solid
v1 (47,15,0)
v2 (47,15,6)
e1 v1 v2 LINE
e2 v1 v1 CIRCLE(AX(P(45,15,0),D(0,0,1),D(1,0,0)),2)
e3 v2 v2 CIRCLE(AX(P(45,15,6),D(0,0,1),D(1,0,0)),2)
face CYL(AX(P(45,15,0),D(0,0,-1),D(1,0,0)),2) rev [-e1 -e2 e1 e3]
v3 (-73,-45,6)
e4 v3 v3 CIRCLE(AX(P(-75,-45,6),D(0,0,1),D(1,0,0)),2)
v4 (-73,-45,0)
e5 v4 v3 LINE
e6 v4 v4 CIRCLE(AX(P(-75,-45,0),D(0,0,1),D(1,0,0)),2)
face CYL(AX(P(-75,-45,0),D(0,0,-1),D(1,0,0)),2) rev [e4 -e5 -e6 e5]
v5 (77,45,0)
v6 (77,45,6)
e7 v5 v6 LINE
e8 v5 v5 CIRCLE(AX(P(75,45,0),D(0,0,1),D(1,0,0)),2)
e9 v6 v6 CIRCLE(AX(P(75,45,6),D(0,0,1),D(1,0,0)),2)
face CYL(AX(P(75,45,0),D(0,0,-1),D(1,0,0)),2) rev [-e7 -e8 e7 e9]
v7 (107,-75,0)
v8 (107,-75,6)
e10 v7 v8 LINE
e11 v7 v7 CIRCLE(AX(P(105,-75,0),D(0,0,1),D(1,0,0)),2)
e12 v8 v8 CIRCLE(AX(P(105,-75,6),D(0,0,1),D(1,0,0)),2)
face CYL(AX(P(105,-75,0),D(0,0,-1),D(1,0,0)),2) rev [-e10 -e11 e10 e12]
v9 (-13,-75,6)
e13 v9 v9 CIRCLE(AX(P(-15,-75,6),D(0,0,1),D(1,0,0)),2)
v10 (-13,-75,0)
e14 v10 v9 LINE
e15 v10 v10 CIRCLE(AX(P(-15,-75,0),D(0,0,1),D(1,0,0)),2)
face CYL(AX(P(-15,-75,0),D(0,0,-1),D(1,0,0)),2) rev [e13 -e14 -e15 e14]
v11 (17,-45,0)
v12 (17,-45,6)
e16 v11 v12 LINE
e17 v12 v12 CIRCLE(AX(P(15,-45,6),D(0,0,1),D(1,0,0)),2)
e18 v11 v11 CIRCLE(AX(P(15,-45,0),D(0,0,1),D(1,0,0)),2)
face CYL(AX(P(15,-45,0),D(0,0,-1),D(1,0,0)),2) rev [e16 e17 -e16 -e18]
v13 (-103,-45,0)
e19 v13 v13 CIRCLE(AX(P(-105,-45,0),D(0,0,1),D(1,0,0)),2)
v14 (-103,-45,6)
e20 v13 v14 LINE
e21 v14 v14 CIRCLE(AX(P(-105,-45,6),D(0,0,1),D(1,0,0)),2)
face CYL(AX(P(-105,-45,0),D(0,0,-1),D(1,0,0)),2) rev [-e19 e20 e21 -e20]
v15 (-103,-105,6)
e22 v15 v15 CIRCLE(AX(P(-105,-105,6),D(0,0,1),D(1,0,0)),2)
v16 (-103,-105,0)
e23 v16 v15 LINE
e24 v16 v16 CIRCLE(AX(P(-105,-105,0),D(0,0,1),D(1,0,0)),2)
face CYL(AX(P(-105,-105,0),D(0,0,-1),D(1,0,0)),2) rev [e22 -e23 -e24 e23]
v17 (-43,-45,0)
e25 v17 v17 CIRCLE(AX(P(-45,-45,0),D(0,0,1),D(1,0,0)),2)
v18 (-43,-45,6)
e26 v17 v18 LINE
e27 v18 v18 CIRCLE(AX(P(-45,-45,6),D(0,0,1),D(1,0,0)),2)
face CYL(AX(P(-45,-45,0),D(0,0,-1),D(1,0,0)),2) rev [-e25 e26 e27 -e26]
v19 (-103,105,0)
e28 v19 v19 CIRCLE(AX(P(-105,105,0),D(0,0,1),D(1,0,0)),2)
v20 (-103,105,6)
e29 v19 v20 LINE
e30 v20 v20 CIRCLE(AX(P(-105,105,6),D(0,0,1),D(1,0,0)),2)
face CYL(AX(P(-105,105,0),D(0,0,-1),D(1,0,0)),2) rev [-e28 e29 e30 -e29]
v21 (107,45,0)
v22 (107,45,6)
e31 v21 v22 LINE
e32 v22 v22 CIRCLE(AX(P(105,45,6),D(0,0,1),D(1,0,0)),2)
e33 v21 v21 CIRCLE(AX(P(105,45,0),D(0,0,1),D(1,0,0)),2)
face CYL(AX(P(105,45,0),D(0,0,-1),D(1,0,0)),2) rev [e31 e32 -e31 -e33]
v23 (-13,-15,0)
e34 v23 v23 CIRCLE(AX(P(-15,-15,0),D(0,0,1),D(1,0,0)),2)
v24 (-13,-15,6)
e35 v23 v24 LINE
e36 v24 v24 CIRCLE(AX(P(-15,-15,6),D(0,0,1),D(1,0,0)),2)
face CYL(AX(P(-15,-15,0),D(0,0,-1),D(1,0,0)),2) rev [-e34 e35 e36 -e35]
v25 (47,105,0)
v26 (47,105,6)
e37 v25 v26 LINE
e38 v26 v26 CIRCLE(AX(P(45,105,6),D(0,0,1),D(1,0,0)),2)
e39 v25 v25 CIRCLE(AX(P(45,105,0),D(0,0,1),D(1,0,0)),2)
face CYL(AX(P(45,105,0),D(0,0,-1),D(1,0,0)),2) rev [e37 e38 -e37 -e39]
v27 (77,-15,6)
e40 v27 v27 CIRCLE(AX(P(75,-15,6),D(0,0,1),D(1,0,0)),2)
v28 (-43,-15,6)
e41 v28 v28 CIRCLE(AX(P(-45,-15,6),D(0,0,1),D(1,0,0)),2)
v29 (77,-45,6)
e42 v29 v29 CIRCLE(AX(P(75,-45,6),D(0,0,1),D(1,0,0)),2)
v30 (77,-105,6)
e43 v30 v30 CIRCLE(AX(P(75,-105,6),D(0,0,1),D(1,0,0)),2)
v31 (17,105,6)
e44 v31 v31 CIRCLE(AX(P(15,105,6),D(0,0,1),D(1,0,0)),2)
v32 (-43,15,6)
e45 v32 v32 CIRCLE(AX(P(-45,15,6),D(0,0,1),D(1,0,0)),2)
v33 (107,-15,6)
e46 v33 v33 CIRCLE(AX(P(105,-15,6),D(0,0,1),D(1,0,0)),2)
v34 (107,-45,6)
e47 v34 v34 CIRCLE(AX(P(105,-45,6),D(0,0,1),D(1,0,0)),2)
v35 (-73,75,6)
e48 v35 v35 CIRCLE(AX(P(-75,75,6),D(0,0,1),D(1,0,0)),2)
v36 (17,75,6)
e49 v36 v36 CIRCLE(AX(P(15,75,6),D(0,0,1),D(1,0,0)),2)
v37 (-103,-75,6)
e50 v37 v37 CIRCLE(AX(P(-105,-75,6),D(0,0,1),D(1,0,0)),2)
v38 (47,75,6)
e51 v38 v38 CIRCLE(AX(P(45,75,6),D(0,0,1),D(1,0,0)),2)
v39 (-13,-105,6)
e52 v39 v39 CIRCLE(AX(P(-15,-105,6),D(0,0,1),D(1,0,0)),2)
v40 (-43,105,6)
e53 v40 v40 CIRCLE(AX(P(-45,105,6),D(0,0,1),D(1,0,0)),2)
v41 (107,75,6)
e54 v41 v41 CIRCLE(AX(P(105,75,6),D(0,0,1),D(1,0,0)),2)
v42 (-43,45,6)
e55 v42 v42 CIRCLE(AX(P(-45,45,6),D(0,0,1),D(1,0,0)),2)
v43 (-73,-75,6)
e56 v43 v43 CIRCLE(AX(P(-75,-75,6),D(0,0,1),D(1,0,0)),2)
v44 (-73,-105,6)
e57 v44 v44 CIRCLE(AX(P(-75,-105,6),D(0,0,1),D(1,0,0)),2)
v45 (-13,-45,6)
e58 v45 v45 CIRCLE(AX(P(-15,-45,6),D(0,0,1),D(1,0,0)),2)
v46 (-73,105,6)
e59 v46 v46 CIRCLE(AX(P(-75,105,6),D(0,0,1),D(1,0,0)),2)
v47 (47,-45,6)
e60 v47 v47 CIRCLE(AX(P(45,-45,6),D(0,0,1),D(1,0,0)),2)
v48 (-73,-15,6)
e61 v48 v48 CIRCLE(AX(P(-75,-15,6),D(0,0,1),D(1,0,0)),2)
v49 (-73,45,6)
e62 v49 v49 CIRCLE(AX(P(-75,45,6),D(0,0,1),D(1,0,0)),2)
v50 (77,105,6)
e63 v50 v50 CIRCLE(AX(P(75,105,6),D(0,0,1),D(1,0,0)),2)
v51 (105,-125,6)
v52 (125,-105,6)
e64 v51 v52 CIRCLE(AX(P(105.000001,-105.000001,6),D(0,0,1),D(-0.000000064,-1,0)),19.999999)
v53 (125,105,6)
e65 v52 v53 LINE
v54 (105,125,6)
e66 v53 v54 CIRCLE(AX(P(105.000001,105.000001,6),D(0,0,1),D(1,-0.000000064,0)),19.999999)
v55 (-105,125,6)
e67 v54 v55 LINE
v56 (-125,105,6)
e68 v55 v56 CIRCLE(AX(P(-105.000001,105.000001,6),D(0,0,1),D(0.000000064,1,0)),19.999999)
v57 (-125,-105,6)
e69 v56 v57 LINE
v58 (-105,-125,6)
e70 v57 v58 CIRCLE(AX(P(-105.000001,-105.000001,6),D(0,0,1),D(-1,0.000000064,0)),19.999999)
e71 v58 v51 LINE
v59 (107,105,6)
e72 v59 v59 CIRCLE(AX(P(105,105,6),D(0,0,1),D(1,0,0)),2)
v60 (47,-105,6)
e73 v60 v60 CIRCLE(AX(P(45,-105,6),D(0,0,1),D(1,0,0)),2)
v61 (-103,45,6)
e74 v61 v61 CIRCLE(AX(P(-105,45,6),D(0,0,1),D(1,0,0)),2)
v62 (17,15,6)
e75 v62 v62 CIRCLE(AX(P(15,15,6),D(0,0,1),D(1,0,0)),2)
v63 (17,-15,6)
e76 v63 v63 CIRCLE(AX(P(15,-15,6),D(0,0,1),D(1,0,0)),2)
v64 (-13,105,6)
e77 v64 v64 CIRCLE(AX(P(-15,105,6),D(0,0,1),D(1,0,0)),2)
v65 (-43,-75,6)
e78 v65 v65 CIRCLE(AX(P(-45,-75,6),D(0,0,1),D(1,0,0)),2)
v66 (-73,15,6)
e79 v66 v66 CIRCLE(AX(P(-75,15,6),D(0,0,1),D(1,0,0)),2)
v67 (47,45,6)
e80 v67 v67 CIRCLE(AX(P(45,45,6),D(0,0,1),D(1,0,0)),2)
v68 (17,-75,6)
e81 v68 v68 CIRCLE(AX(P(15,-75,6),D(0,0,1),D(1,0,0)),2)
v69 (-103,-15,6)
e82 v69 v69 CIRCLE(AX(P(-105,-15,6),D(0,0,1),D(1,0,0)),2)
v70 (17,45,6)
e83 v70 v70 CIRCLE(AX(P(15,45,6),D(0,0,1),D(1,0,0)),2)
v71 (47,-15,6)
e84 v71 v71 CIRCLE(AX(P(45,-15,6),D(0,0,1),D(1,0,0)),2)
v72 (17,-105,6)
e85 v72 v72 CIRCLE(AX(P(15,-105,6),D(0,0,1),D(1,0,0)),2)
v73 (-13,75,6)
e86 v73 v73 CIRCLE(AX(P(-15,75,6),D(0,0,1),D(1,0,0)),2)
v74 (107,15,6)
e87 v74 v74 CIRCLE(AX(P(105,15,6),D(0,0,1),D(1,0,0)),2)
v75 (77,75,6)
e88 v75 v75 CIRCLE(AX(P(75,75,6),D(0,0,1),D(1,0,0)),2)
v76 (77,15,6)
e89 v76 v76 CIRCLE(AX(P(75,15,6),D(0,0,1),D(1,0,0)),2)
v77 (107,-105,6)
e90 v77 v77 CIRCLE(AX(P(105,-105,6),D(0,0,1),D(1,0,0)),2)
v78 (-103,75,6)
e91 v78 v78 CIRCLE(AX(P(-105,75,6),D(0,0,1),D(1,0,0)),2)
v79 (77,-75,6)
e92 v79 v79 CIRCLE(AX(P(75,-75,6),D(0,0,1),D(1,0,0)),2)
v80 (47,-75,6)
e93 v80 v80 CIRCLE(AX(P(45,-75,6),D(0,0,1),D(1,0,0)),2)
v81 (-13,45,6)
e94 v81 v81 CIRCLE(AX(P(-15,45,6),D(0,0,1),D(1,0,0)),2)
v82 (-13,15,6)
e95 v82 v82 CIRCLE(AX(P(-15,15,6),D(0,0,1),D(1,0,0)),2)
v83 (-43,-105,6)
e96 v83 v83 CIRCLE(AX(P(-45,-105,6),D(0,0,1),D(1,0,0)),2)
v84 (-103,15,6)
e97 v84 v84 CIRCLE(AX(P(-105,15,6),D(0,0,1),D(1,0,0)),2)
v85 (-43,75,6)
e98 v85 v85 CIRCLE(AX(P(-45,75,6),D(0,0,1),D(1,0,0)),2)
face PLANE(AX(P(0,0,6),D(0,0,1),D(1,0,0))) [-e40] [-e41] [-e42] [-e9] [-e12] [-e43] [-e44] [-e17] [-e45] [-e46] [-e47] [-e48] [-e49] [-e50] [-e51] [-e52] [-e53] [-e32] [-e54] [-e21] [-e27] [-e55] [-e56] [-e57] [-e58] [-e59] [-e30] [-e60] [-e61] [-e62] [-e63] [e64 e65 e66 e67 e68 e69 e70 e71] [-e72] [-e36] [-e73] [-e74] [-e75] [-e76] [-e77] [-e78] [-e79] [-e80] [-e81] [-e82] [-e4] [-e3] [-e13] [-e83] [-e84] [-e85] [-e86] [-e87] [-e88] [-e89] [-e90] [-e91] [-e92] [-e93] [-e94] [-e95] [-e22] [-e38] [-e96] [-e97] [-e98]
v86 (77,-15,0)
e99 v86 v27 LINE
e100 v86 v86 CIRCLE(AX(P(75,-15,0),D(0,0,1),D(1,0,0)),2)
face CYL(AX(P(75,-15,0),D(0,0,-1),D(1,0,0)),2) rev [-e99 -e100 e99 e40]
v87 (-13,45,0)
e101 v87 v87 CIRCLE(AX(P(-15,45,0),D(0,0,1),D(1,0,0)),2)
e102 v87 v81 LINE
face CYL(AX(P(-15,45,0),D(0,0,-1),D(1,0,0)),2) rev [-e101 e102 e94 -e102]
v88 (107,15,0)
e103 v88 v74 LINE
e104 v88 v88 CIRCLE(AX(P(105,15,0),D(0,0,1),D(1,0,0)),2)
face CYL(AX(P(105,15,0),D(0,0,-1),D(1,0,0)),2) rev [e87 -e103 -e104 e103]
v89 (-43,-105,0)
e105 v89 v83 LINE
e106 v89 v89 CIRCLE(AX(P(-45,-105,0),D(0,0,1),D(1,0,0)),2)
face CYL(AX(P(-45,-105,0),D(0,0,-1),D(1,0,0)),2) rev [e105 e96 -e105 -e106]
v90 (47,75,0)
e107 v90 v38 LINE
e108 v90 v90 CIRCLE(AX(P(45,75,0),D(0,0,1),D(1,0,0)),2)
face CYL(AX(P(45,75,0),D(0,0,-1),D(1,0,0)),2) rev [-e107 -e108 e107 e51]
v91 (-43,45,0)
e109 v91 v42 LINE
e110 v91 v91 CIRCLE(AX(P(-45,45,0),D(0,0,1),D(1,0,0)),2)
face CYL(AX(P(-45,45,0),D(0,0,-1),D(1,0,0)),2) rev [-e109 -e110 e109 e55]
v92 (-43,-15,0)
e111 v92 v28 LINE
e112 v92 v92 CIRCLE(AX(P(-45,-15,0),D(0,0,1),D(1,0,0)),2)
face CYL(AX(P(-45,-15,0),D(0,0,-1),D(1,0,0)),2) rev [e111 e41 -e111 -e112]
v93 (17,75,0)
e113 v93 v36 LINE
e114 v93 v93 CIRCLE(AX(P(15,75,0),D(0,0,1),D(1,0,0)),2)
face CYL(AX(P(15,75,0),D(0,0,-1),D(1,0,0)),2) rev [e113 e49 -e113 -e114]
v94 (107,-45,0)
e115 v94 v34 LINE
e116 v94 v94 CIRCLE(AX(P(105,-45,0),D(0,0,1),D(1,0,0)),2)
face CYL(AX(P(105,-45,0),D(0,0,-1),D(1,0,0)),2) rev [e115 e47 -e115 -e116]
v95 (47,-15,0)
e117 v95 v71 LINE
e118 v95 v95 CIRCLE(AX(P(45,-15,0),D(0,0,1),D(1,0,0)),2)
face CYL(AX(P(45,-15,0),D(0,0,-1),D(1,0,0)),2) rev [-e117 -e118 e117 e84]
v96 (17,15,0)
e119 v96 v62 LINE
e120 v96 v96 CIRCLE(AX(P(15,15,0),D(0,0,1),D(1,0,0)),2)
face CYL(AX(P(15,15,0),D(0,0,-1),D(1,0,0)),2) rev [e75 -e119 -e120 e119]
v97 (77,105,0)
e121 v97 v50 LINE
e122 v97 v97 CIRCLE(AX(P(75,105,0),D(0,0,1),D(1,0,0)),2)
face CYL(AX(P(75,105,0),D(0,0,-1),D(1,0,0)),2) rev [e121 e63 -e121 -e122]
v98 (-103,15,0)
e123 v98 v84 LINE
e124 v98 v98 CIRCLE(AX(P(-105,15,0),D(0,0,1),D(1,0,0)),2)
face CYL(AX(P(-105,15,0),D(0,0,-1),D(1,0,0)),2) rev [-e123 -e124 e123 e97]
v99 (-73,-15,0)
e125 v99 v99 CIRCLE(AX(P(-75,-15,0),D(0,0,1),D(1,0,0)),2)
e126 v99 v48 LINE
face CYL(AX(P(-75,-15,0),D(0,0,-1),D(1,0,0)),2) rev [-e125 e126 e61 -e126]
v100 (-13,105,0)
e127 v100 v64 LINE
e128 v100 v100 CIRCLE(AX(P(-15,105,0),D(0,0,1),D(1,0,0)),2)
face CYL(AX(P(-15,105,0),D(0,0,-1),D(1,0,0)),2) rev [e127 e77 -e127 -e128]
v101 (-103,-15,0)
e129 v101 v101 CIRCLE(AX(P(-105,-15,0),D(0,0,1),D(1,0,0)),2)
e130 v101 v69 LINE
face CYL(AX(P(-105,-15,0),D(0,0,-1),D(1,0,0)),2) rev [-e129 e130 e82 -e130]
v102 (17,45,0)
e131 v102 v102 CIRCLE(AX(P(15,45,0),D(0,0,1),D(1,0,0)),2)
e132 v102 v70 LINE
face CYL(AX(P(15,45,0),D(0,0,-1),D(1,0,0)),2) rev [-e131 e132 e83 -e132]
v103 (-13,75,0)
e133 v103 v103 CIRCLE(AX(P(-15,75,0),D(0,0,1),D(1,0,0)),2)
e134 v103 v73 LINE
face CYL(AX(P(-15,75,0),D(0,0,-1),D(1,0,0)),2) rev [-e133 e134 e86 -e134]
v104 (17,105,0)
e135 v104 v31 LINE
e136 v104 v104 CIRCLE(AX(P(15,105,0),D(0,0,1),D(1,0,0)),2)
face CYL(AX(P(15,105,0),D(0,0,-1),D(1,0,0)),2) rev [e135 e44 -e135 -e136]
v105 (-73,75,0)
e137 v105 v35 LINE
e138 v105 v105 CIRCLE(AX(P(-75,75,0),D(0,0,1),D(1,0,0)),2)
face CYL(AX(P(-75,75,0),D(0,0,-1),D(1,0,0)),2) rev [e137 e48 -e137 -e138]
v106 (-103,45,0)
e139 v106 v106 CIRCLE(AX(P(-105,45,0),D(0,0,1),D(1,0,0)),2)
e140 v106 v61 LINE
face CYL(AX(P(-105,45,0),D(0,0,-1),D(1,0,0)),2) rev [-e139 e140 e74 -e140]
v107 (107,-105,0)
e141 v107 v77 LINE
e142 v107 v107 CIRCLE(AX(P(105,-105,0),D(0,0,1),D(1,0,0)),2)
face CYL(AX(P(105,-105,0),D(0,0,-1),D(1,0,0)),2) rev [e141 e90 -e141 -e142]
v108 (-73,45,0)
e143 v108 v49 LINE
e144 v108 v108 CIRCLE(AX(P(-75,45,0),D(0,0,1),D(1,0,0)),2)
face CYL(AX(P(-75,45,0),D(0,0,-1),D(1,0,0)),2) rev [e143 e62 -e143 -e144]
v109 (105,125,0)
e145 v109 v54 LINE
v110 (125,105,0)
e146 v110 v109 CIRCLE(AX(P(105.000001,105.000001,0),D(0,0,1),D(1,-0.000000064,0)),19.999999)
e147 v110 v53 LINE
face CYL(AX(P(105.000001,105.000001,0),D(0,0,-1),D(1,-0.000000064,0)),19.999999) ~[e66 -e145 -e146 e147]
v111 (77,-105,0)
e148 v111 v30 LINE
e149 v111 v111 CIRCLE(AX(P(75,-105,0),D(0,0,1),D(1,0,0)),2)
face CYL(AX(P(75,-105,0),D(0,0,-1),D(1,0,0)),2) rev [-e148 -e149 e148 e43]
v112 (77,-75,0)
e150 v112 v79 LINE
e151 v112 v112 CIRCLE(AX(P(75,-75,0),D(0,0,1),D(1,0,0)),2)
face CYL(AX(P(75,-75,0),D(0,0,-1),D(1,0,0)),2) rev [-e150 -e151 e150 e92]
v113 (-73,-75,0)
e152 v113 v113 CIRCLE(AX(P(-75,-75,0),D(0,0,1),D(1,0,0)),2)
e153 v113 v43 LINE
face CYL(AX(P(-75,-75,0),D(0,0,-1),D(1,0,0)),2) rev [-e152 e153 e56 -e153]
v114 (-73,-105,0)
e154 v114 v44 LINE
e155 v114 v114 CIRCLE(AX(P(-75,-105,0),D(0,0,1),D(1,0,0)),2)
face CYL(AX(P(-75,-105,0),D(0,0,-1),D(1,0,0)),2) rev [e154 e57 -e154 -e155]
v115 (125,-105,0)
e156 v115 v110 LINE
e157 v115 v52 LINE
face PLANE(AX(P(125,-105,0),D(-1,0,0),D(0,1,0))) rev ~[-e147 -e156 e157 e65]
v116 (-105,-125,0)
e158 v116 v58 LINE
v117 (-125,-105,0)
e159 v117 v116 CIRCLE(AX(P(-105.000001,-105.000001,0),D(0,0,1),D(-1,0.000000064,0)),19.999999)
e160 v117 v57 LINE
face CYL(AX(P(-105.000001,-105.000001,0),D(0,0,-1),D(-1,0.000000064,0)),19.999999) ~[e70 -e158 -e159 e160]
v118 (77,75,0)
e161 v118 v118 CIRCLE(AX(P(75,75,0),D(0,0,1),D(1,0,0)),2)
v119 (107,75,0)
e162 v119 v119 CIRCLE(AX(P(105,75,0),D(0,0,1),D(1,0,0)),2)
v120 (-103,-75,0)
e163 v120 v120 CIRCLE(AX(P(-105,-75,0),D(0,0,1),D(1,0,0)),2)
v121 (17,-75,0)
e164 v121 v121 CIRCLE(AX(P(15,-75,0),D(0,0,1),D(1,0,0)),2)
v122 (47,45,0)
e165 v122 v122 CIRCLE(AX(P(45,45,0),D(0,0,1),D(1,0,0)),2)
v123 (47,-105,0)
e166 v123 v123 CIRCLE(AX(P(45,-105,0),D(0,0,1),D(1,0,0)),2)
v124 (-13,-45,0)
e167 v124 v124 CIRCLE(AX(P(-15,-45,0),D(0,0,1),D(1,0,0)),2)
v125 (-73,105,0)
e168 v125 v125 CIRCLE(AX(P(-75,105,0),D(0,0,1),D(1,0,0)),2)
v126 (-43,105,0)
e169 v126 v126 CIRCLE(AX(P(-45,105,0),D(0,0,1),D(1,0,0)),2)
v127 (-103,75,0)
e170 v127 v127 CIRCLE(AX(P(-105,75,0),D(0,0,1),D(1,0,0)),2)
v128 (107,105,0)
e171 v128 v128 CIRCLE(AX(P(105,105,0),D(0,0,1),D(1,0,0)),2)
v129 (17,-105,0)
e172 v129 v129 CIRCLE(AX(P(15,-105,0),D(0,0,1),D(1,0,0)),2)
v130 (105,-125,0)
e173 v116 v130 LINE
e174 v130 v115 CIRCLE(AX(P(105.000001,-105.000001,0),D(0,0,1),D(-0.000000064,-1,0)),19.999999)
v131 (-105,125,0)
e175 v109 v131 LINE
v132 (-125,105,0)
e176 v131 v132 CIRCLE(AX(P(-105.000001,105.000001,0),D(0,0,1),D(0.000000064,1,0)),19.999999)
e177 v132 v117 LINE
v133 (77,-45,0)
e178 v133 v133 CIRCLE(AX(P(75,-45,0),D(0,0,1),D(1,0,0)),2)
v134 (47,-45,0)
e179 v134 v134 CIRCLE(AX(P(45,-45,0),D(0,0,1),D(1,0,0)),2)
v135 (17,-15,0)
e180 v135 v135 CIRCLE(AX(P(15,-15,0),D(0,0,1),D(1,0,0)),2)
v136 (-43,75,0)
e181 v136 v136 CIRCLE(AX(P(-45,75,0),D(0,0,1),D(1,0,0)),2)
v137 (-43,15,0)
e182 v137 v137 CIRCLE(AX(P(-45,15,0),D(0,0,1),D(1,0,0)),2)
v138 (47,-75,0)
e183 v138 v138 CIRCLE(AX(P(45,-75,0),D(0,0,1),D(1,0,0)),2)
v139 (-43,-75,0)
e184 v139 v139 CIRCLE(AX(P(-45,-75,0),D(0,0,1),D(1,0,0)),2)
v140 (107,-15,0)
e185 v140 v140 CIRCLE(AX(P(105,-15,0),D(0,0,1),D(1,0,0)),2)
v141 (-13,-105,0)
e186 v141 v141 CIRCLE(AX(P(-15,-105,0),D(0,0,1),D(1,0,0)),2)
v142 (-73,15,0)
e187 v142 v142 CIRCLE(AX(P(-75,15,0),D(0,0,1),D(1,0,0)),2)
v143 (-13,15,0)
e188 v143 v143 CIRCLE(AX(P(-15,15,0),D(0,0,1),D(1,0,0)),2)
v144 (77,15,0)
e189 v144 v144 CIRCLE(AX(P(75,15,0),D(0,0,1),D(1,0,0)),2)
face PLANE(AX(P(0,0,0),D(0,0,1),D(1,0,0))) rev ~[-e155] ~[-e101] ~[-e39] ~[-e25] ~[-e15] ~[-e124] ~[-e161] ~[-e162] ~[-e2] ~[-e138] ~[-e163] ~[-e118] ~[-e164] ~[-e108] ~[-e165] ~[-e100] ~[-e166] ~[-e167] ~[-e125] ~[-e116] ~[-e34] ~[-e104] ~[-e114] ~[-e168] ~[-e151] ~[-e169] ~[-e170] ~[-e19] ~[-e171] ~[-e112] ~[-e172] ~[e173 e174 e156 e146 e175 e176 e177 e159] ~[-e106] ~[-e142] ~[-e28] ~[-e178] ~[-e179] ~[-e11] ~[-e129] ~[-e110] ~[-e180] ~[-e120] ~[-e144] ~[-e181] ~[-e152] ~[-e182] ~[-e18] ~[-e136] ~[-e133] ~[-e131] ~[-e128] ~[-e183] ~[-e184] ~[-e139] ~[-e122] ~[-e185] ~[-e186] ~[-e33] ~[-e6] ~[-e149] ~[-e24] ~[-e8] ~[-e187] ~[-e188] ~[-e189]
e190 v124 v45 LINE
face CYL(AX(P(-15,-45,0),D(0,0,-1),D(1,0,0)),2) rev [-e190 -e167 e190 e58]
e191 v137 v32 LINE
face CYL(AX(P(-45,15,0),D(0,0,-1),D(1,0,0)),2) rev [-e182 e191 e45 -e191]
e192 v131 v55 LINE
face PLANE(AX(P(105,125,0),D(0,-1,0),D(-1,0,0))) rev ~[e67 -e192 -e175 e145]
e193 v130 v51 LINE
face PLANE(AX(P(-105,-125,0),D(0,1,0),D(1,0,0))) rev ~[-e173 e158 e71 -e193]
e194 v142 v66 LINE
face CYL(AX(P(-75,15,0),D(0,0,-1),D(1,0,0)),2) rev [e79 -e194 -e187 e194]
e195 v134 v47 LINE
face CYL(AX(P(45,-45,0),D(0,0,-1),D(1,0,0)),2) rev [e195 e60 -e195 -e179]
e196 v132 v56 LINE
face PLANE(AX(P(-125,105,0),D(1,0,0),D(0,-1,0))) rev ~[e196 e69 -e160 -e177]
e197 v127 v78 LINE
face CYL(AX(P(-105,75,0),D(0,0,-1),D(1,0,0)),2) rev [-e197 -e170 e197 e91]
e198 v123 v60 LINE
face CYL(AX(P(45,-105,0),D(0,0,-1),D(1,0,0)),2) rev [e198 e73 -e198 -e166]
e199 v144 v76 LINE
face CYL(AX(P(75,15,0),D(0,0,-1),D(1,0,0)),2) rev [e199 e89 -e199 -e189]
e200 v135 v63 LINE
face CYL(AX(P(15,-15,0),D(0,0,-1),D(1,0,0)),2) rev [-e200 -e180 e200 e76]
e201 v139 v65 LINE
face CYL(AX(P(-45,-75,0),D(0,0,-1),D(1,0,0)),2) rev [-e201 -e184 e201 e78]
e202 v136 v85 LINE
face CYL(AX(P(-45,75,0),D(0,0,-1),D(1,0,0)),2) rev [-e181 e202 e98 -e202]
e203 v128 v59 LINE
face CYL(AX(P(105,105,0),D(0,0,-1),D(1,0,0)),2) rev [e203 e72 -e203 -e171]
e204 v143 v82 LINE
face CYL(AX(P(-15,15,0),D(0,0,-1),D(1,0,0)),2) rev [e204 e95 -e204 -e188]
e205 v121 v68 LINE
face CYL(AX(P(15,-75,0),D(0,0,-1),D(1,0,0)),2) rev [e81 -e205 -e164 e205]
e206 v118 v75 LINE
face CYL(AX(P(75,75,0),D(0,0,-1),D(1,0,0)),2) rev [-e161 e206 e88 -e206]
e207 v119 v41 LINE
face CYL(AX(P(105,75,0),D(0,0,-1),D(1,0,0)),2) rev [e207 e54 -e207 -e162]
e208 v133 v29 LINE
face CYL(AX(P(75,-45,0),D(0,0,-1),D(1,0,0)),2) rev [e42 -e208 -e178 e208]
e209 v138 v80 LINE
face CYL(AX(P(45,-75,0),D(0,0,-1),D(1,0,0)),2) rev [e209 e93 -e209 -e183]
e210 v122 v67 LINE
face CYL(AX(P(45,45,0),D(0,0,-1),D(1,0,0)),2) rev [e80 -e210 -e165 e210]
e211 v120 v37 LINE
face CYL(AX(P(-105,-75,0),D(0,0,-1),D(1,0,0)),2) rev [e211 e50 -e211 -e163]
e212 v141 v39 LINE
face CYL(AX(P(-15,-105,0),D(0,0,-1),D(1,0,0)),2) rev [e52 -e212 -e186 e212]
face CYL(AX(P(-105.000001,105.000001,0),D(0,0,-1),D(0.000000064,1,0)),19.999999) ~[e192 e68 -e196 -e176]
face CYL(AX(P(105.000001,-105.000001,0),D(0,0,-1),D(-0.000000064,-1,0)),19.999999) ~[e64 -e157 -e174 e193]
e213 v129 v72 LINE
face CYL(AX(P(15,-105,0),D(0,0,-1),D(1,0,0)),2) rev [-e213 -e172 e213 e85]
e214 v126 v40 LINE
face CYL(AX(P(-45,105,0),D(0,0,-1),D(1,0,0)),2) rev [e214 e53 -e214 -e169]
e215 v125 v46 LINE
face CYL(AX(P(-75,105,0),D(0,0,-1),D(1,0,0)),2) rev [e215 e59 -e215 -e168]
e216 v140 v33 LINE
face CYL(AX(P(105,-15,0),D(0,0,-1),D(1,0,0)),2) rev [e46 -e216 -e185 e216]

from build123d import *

# Parameters (mm, degrees)
F0_R     = 2
F1_DEPTH = 6


with BuildPart() as f1:
    # F0 (on Top) → F1 (new body)
    with BuildSketch(Plane.XY):
        with BuildLine():
            Line((105, 125), (-105, 125))
            ThreePointArc((-105, 125), (-119.142136, 119.142136), (-125, 105))
            Line((-125, 105), (-125, -105))
            ThreePointArc((-125, -105), (-119.142136, -119.142136), (-105, -125))
            Line((-105, -125), (105, -125))
            ThreePointArc((105, -125), (119.142136, -119.142136), (125, -105))
            Line((125, -105), (125, 105))
            ThreePointArc((125, 105), (119.142136, 119.142136), (105, 125))
        make_face()
        with Locations((-105, -105)):
            Circle(F0_R, mode=Mode.SUBTRACT)
        with Locations((-75, -105)):
            Circle(F0_R, mode=Mode.SUBTRACT)
        with Locations((-105, -75)):
            Circle(F0_R, mode=Mode.SUBTRACT)
        with Locations((-75, -75)):
            Circle(F0_R, mode=Mode.SUBTRACT)
        with Locations((-45, -105)):
            Circle(F0_R, mode=Mode.SUBTRACT)
        with Locations((-15, -105)):
            Circle(F0_R, mode=Mode.SUBTRACT)
        with Locations((-45, -75)):
            Circle(F0_R, mode=Mode.SUBTRACT)
        with Locations((-15, -75)):
            Circle(F0_R, mode=Mode.SUBTRACT)
        with Locations((-105, -45)):
            Circle(F0_R, mode=Mode.SUBTRACT)
        with Locations((-75, -45)):
            Circle(F0_R, mode=Mode.SUBTRACT)
        with Locations((-105, -15)):
            Circle(F0_R, mode=Mode.SUBTRACT)
        with Locations((-75, -15)):
            Circle(F0_R, mode=Mode.SUBTRACT)
        with Locations((-45, -45)):
            Circle(F0_R, mode=Mode.SUBTRACT)
        with Locations((-15, -45)):
            Circle(F0_R, mode=Mode.SUBTRACT)
        with Locations((-45, -15)):
            Circle(F0_R, mode=Mode.SUBTRACT)
        with Locations((-15, -15)):
            Circle(F0_R, mode=Mode.SUBTRACT)
        with Locations((15, -105)):
            Circle(F0_R, mode=Mode.SUBTRACT)
        with Locations((45, -105)):
            Circle(F0_R, mode=Mode.SUBTRACT)
        with Locations((15, -75)):
            Circle(F0_R, mode=Mode.SUBTRACT)
        with Locations((45, -75)):
            Circle(F0_R, mode=Mode.SUBTRACT)
        with Locations((75, -105)):
            Circle(F0_R, mode=Mode.SUBTRACT)
        with Locations((105, -105)):
            Circle(F0_R, mode=Mode.SUBTRACT)
        with Locations((75, -75)):
            Circle(F0_R, mode=Mode.SUBTRACT)
        with Locations((105, -75)):
            Circle(F0_R, mode=Mode.SUBTRACT)
        with Locations((15, -45)):
            Circle(F0_R, mode=Mode.SUBTRACT)
        with Locations((45, -45)):
            Circle(F0_R, mode=Mode.SUBTRACT)
        with Locations((15, -15)):
            Circle(F0_R, mode=Mode.SUBTRACT)
        with Locations((45, -15)):
            Circle(F0_R, mode=Mode.SUBTRACT)
        with Locations((75, -45)):
            Circle(F0_R, mode=Mode.SUBTRACT)
        with Locations((105, -45)):
            Circle(F0_R, mode=Mode.SUBTRACT)
        with Locations((75, -15)):
            Circle(F0_R, mode=Mode.SUBTRACT)
        with Locations((105, -15)):
            Circle(F0_R, mode=Mode.SUBTRACT)
        with Locations((-105, 15)):
            Circle(F0_R, mode=Mode.SUBTRACT)
        with Locations((-75, 15)):
            Circle(F0_R, mode=Mode.SUBTRACT)
        with Locations((-105, 45)):
            Circle(F0_R, mode=Mode.SUBTRACT)
        with Locations((-75, 45)):
            Circle(F0_R, mode=Mode.SUBTRACT)
        with Locations((-45, 15)):
            Circle(F0_R, mode=Mode.SUBTRACT)
        with Locations((-15, 15)):
            Circle(F0_R, mode=Mode.SUBTRACT)
        with Locations((-45, 45)):
            Circle(F0_R, mode=Mode.SUBTRACT)
        with Locations((-15, 45)):
            Circle(F0_R, mode=Mode.SUBTRACT)
        with Locations((-105, 75)):
            Circle(F0_R, mode=Mode.SUBTRACT)
        with Locations((-75, 75)):
            Circle(F0_R, mode=Mode.SUBTRACT)
        with Locations((-105, 105)):
            Circle(F0_R, mode=Mode.SUBTRACT)
        with Locations((-75, 105)):
            Circle(F0_R, mode=Mode.SUBTRACT)
        with Locations((-45, 75)):
            Circle(F0_R, mode=Mode.SUBTRACT)
        with Locations((-15, 75)):
            Circle(F0_R, mode=Mode.SUBTRACT)
        with Locations((-45, 105)):
            Circle(F0_R, mode=Mode.SUBTRACT)
        with Locations((-15, 105)):
            Circle(F0_R, mode=Mode.SUBTRACT)
        with Locations((15, 15)):
            Circle(F0_R, mode=Mode.SUBTRACT)
        with Locations((45, 15)):
            Circle(F0_R, mode=Mode.SUBTRACT)
        with Locations((15, 45)):
            Circle(F0_R, mode=Mode.SUBTRACT)
        with Locations((45, 45)):
            Circle(F0_R, mode=Mode.SUBTRACT)
        with Locations((75, 15)):
            Circle(F0_R, mode=Mode.SUBTRACT)
        with Locations((105, 15)):
            Circle(F0_R, mode=Mode.SUBTRACT)
        with Locations((75, 45)):
            Circle(F0_R, mode=Mode.SUBTRACT)
        with Locations((105, 45)):
            Circle(F0_R, mode=Mode.SUBTRACT)
        with Locations((15, 75)):
            Circle(F0_R, mode=Mode.SUBTRACT)
        with Locations((45, 75)):
            Circle(F0_R, mode=Mode.SUBTRACT)
        with Locations((15, 105)):
            Circle(F0_R, mode=Mode.SUBTRACT)
        with Locations((45, 105)):
            Circle(F0_R, mode=Mode.SUBTRACT)
        with Locations((75, 75)):
            Circle(F0_R, mode=Mode.SUBTRACT)
        with Locations((105, 75)):
            Circle(F0_R, mode=Mode.SUBTRACT)
        with Locations((75, 105)):
            Circle(F0_R, mode=Mode.SUBTRACT)
        with Locations((105, 105)):
            Circle(F0_R, mode=Mode.SUBTRACT)
    extrude(amount=F1_DEPTH)


solid = f1.part
